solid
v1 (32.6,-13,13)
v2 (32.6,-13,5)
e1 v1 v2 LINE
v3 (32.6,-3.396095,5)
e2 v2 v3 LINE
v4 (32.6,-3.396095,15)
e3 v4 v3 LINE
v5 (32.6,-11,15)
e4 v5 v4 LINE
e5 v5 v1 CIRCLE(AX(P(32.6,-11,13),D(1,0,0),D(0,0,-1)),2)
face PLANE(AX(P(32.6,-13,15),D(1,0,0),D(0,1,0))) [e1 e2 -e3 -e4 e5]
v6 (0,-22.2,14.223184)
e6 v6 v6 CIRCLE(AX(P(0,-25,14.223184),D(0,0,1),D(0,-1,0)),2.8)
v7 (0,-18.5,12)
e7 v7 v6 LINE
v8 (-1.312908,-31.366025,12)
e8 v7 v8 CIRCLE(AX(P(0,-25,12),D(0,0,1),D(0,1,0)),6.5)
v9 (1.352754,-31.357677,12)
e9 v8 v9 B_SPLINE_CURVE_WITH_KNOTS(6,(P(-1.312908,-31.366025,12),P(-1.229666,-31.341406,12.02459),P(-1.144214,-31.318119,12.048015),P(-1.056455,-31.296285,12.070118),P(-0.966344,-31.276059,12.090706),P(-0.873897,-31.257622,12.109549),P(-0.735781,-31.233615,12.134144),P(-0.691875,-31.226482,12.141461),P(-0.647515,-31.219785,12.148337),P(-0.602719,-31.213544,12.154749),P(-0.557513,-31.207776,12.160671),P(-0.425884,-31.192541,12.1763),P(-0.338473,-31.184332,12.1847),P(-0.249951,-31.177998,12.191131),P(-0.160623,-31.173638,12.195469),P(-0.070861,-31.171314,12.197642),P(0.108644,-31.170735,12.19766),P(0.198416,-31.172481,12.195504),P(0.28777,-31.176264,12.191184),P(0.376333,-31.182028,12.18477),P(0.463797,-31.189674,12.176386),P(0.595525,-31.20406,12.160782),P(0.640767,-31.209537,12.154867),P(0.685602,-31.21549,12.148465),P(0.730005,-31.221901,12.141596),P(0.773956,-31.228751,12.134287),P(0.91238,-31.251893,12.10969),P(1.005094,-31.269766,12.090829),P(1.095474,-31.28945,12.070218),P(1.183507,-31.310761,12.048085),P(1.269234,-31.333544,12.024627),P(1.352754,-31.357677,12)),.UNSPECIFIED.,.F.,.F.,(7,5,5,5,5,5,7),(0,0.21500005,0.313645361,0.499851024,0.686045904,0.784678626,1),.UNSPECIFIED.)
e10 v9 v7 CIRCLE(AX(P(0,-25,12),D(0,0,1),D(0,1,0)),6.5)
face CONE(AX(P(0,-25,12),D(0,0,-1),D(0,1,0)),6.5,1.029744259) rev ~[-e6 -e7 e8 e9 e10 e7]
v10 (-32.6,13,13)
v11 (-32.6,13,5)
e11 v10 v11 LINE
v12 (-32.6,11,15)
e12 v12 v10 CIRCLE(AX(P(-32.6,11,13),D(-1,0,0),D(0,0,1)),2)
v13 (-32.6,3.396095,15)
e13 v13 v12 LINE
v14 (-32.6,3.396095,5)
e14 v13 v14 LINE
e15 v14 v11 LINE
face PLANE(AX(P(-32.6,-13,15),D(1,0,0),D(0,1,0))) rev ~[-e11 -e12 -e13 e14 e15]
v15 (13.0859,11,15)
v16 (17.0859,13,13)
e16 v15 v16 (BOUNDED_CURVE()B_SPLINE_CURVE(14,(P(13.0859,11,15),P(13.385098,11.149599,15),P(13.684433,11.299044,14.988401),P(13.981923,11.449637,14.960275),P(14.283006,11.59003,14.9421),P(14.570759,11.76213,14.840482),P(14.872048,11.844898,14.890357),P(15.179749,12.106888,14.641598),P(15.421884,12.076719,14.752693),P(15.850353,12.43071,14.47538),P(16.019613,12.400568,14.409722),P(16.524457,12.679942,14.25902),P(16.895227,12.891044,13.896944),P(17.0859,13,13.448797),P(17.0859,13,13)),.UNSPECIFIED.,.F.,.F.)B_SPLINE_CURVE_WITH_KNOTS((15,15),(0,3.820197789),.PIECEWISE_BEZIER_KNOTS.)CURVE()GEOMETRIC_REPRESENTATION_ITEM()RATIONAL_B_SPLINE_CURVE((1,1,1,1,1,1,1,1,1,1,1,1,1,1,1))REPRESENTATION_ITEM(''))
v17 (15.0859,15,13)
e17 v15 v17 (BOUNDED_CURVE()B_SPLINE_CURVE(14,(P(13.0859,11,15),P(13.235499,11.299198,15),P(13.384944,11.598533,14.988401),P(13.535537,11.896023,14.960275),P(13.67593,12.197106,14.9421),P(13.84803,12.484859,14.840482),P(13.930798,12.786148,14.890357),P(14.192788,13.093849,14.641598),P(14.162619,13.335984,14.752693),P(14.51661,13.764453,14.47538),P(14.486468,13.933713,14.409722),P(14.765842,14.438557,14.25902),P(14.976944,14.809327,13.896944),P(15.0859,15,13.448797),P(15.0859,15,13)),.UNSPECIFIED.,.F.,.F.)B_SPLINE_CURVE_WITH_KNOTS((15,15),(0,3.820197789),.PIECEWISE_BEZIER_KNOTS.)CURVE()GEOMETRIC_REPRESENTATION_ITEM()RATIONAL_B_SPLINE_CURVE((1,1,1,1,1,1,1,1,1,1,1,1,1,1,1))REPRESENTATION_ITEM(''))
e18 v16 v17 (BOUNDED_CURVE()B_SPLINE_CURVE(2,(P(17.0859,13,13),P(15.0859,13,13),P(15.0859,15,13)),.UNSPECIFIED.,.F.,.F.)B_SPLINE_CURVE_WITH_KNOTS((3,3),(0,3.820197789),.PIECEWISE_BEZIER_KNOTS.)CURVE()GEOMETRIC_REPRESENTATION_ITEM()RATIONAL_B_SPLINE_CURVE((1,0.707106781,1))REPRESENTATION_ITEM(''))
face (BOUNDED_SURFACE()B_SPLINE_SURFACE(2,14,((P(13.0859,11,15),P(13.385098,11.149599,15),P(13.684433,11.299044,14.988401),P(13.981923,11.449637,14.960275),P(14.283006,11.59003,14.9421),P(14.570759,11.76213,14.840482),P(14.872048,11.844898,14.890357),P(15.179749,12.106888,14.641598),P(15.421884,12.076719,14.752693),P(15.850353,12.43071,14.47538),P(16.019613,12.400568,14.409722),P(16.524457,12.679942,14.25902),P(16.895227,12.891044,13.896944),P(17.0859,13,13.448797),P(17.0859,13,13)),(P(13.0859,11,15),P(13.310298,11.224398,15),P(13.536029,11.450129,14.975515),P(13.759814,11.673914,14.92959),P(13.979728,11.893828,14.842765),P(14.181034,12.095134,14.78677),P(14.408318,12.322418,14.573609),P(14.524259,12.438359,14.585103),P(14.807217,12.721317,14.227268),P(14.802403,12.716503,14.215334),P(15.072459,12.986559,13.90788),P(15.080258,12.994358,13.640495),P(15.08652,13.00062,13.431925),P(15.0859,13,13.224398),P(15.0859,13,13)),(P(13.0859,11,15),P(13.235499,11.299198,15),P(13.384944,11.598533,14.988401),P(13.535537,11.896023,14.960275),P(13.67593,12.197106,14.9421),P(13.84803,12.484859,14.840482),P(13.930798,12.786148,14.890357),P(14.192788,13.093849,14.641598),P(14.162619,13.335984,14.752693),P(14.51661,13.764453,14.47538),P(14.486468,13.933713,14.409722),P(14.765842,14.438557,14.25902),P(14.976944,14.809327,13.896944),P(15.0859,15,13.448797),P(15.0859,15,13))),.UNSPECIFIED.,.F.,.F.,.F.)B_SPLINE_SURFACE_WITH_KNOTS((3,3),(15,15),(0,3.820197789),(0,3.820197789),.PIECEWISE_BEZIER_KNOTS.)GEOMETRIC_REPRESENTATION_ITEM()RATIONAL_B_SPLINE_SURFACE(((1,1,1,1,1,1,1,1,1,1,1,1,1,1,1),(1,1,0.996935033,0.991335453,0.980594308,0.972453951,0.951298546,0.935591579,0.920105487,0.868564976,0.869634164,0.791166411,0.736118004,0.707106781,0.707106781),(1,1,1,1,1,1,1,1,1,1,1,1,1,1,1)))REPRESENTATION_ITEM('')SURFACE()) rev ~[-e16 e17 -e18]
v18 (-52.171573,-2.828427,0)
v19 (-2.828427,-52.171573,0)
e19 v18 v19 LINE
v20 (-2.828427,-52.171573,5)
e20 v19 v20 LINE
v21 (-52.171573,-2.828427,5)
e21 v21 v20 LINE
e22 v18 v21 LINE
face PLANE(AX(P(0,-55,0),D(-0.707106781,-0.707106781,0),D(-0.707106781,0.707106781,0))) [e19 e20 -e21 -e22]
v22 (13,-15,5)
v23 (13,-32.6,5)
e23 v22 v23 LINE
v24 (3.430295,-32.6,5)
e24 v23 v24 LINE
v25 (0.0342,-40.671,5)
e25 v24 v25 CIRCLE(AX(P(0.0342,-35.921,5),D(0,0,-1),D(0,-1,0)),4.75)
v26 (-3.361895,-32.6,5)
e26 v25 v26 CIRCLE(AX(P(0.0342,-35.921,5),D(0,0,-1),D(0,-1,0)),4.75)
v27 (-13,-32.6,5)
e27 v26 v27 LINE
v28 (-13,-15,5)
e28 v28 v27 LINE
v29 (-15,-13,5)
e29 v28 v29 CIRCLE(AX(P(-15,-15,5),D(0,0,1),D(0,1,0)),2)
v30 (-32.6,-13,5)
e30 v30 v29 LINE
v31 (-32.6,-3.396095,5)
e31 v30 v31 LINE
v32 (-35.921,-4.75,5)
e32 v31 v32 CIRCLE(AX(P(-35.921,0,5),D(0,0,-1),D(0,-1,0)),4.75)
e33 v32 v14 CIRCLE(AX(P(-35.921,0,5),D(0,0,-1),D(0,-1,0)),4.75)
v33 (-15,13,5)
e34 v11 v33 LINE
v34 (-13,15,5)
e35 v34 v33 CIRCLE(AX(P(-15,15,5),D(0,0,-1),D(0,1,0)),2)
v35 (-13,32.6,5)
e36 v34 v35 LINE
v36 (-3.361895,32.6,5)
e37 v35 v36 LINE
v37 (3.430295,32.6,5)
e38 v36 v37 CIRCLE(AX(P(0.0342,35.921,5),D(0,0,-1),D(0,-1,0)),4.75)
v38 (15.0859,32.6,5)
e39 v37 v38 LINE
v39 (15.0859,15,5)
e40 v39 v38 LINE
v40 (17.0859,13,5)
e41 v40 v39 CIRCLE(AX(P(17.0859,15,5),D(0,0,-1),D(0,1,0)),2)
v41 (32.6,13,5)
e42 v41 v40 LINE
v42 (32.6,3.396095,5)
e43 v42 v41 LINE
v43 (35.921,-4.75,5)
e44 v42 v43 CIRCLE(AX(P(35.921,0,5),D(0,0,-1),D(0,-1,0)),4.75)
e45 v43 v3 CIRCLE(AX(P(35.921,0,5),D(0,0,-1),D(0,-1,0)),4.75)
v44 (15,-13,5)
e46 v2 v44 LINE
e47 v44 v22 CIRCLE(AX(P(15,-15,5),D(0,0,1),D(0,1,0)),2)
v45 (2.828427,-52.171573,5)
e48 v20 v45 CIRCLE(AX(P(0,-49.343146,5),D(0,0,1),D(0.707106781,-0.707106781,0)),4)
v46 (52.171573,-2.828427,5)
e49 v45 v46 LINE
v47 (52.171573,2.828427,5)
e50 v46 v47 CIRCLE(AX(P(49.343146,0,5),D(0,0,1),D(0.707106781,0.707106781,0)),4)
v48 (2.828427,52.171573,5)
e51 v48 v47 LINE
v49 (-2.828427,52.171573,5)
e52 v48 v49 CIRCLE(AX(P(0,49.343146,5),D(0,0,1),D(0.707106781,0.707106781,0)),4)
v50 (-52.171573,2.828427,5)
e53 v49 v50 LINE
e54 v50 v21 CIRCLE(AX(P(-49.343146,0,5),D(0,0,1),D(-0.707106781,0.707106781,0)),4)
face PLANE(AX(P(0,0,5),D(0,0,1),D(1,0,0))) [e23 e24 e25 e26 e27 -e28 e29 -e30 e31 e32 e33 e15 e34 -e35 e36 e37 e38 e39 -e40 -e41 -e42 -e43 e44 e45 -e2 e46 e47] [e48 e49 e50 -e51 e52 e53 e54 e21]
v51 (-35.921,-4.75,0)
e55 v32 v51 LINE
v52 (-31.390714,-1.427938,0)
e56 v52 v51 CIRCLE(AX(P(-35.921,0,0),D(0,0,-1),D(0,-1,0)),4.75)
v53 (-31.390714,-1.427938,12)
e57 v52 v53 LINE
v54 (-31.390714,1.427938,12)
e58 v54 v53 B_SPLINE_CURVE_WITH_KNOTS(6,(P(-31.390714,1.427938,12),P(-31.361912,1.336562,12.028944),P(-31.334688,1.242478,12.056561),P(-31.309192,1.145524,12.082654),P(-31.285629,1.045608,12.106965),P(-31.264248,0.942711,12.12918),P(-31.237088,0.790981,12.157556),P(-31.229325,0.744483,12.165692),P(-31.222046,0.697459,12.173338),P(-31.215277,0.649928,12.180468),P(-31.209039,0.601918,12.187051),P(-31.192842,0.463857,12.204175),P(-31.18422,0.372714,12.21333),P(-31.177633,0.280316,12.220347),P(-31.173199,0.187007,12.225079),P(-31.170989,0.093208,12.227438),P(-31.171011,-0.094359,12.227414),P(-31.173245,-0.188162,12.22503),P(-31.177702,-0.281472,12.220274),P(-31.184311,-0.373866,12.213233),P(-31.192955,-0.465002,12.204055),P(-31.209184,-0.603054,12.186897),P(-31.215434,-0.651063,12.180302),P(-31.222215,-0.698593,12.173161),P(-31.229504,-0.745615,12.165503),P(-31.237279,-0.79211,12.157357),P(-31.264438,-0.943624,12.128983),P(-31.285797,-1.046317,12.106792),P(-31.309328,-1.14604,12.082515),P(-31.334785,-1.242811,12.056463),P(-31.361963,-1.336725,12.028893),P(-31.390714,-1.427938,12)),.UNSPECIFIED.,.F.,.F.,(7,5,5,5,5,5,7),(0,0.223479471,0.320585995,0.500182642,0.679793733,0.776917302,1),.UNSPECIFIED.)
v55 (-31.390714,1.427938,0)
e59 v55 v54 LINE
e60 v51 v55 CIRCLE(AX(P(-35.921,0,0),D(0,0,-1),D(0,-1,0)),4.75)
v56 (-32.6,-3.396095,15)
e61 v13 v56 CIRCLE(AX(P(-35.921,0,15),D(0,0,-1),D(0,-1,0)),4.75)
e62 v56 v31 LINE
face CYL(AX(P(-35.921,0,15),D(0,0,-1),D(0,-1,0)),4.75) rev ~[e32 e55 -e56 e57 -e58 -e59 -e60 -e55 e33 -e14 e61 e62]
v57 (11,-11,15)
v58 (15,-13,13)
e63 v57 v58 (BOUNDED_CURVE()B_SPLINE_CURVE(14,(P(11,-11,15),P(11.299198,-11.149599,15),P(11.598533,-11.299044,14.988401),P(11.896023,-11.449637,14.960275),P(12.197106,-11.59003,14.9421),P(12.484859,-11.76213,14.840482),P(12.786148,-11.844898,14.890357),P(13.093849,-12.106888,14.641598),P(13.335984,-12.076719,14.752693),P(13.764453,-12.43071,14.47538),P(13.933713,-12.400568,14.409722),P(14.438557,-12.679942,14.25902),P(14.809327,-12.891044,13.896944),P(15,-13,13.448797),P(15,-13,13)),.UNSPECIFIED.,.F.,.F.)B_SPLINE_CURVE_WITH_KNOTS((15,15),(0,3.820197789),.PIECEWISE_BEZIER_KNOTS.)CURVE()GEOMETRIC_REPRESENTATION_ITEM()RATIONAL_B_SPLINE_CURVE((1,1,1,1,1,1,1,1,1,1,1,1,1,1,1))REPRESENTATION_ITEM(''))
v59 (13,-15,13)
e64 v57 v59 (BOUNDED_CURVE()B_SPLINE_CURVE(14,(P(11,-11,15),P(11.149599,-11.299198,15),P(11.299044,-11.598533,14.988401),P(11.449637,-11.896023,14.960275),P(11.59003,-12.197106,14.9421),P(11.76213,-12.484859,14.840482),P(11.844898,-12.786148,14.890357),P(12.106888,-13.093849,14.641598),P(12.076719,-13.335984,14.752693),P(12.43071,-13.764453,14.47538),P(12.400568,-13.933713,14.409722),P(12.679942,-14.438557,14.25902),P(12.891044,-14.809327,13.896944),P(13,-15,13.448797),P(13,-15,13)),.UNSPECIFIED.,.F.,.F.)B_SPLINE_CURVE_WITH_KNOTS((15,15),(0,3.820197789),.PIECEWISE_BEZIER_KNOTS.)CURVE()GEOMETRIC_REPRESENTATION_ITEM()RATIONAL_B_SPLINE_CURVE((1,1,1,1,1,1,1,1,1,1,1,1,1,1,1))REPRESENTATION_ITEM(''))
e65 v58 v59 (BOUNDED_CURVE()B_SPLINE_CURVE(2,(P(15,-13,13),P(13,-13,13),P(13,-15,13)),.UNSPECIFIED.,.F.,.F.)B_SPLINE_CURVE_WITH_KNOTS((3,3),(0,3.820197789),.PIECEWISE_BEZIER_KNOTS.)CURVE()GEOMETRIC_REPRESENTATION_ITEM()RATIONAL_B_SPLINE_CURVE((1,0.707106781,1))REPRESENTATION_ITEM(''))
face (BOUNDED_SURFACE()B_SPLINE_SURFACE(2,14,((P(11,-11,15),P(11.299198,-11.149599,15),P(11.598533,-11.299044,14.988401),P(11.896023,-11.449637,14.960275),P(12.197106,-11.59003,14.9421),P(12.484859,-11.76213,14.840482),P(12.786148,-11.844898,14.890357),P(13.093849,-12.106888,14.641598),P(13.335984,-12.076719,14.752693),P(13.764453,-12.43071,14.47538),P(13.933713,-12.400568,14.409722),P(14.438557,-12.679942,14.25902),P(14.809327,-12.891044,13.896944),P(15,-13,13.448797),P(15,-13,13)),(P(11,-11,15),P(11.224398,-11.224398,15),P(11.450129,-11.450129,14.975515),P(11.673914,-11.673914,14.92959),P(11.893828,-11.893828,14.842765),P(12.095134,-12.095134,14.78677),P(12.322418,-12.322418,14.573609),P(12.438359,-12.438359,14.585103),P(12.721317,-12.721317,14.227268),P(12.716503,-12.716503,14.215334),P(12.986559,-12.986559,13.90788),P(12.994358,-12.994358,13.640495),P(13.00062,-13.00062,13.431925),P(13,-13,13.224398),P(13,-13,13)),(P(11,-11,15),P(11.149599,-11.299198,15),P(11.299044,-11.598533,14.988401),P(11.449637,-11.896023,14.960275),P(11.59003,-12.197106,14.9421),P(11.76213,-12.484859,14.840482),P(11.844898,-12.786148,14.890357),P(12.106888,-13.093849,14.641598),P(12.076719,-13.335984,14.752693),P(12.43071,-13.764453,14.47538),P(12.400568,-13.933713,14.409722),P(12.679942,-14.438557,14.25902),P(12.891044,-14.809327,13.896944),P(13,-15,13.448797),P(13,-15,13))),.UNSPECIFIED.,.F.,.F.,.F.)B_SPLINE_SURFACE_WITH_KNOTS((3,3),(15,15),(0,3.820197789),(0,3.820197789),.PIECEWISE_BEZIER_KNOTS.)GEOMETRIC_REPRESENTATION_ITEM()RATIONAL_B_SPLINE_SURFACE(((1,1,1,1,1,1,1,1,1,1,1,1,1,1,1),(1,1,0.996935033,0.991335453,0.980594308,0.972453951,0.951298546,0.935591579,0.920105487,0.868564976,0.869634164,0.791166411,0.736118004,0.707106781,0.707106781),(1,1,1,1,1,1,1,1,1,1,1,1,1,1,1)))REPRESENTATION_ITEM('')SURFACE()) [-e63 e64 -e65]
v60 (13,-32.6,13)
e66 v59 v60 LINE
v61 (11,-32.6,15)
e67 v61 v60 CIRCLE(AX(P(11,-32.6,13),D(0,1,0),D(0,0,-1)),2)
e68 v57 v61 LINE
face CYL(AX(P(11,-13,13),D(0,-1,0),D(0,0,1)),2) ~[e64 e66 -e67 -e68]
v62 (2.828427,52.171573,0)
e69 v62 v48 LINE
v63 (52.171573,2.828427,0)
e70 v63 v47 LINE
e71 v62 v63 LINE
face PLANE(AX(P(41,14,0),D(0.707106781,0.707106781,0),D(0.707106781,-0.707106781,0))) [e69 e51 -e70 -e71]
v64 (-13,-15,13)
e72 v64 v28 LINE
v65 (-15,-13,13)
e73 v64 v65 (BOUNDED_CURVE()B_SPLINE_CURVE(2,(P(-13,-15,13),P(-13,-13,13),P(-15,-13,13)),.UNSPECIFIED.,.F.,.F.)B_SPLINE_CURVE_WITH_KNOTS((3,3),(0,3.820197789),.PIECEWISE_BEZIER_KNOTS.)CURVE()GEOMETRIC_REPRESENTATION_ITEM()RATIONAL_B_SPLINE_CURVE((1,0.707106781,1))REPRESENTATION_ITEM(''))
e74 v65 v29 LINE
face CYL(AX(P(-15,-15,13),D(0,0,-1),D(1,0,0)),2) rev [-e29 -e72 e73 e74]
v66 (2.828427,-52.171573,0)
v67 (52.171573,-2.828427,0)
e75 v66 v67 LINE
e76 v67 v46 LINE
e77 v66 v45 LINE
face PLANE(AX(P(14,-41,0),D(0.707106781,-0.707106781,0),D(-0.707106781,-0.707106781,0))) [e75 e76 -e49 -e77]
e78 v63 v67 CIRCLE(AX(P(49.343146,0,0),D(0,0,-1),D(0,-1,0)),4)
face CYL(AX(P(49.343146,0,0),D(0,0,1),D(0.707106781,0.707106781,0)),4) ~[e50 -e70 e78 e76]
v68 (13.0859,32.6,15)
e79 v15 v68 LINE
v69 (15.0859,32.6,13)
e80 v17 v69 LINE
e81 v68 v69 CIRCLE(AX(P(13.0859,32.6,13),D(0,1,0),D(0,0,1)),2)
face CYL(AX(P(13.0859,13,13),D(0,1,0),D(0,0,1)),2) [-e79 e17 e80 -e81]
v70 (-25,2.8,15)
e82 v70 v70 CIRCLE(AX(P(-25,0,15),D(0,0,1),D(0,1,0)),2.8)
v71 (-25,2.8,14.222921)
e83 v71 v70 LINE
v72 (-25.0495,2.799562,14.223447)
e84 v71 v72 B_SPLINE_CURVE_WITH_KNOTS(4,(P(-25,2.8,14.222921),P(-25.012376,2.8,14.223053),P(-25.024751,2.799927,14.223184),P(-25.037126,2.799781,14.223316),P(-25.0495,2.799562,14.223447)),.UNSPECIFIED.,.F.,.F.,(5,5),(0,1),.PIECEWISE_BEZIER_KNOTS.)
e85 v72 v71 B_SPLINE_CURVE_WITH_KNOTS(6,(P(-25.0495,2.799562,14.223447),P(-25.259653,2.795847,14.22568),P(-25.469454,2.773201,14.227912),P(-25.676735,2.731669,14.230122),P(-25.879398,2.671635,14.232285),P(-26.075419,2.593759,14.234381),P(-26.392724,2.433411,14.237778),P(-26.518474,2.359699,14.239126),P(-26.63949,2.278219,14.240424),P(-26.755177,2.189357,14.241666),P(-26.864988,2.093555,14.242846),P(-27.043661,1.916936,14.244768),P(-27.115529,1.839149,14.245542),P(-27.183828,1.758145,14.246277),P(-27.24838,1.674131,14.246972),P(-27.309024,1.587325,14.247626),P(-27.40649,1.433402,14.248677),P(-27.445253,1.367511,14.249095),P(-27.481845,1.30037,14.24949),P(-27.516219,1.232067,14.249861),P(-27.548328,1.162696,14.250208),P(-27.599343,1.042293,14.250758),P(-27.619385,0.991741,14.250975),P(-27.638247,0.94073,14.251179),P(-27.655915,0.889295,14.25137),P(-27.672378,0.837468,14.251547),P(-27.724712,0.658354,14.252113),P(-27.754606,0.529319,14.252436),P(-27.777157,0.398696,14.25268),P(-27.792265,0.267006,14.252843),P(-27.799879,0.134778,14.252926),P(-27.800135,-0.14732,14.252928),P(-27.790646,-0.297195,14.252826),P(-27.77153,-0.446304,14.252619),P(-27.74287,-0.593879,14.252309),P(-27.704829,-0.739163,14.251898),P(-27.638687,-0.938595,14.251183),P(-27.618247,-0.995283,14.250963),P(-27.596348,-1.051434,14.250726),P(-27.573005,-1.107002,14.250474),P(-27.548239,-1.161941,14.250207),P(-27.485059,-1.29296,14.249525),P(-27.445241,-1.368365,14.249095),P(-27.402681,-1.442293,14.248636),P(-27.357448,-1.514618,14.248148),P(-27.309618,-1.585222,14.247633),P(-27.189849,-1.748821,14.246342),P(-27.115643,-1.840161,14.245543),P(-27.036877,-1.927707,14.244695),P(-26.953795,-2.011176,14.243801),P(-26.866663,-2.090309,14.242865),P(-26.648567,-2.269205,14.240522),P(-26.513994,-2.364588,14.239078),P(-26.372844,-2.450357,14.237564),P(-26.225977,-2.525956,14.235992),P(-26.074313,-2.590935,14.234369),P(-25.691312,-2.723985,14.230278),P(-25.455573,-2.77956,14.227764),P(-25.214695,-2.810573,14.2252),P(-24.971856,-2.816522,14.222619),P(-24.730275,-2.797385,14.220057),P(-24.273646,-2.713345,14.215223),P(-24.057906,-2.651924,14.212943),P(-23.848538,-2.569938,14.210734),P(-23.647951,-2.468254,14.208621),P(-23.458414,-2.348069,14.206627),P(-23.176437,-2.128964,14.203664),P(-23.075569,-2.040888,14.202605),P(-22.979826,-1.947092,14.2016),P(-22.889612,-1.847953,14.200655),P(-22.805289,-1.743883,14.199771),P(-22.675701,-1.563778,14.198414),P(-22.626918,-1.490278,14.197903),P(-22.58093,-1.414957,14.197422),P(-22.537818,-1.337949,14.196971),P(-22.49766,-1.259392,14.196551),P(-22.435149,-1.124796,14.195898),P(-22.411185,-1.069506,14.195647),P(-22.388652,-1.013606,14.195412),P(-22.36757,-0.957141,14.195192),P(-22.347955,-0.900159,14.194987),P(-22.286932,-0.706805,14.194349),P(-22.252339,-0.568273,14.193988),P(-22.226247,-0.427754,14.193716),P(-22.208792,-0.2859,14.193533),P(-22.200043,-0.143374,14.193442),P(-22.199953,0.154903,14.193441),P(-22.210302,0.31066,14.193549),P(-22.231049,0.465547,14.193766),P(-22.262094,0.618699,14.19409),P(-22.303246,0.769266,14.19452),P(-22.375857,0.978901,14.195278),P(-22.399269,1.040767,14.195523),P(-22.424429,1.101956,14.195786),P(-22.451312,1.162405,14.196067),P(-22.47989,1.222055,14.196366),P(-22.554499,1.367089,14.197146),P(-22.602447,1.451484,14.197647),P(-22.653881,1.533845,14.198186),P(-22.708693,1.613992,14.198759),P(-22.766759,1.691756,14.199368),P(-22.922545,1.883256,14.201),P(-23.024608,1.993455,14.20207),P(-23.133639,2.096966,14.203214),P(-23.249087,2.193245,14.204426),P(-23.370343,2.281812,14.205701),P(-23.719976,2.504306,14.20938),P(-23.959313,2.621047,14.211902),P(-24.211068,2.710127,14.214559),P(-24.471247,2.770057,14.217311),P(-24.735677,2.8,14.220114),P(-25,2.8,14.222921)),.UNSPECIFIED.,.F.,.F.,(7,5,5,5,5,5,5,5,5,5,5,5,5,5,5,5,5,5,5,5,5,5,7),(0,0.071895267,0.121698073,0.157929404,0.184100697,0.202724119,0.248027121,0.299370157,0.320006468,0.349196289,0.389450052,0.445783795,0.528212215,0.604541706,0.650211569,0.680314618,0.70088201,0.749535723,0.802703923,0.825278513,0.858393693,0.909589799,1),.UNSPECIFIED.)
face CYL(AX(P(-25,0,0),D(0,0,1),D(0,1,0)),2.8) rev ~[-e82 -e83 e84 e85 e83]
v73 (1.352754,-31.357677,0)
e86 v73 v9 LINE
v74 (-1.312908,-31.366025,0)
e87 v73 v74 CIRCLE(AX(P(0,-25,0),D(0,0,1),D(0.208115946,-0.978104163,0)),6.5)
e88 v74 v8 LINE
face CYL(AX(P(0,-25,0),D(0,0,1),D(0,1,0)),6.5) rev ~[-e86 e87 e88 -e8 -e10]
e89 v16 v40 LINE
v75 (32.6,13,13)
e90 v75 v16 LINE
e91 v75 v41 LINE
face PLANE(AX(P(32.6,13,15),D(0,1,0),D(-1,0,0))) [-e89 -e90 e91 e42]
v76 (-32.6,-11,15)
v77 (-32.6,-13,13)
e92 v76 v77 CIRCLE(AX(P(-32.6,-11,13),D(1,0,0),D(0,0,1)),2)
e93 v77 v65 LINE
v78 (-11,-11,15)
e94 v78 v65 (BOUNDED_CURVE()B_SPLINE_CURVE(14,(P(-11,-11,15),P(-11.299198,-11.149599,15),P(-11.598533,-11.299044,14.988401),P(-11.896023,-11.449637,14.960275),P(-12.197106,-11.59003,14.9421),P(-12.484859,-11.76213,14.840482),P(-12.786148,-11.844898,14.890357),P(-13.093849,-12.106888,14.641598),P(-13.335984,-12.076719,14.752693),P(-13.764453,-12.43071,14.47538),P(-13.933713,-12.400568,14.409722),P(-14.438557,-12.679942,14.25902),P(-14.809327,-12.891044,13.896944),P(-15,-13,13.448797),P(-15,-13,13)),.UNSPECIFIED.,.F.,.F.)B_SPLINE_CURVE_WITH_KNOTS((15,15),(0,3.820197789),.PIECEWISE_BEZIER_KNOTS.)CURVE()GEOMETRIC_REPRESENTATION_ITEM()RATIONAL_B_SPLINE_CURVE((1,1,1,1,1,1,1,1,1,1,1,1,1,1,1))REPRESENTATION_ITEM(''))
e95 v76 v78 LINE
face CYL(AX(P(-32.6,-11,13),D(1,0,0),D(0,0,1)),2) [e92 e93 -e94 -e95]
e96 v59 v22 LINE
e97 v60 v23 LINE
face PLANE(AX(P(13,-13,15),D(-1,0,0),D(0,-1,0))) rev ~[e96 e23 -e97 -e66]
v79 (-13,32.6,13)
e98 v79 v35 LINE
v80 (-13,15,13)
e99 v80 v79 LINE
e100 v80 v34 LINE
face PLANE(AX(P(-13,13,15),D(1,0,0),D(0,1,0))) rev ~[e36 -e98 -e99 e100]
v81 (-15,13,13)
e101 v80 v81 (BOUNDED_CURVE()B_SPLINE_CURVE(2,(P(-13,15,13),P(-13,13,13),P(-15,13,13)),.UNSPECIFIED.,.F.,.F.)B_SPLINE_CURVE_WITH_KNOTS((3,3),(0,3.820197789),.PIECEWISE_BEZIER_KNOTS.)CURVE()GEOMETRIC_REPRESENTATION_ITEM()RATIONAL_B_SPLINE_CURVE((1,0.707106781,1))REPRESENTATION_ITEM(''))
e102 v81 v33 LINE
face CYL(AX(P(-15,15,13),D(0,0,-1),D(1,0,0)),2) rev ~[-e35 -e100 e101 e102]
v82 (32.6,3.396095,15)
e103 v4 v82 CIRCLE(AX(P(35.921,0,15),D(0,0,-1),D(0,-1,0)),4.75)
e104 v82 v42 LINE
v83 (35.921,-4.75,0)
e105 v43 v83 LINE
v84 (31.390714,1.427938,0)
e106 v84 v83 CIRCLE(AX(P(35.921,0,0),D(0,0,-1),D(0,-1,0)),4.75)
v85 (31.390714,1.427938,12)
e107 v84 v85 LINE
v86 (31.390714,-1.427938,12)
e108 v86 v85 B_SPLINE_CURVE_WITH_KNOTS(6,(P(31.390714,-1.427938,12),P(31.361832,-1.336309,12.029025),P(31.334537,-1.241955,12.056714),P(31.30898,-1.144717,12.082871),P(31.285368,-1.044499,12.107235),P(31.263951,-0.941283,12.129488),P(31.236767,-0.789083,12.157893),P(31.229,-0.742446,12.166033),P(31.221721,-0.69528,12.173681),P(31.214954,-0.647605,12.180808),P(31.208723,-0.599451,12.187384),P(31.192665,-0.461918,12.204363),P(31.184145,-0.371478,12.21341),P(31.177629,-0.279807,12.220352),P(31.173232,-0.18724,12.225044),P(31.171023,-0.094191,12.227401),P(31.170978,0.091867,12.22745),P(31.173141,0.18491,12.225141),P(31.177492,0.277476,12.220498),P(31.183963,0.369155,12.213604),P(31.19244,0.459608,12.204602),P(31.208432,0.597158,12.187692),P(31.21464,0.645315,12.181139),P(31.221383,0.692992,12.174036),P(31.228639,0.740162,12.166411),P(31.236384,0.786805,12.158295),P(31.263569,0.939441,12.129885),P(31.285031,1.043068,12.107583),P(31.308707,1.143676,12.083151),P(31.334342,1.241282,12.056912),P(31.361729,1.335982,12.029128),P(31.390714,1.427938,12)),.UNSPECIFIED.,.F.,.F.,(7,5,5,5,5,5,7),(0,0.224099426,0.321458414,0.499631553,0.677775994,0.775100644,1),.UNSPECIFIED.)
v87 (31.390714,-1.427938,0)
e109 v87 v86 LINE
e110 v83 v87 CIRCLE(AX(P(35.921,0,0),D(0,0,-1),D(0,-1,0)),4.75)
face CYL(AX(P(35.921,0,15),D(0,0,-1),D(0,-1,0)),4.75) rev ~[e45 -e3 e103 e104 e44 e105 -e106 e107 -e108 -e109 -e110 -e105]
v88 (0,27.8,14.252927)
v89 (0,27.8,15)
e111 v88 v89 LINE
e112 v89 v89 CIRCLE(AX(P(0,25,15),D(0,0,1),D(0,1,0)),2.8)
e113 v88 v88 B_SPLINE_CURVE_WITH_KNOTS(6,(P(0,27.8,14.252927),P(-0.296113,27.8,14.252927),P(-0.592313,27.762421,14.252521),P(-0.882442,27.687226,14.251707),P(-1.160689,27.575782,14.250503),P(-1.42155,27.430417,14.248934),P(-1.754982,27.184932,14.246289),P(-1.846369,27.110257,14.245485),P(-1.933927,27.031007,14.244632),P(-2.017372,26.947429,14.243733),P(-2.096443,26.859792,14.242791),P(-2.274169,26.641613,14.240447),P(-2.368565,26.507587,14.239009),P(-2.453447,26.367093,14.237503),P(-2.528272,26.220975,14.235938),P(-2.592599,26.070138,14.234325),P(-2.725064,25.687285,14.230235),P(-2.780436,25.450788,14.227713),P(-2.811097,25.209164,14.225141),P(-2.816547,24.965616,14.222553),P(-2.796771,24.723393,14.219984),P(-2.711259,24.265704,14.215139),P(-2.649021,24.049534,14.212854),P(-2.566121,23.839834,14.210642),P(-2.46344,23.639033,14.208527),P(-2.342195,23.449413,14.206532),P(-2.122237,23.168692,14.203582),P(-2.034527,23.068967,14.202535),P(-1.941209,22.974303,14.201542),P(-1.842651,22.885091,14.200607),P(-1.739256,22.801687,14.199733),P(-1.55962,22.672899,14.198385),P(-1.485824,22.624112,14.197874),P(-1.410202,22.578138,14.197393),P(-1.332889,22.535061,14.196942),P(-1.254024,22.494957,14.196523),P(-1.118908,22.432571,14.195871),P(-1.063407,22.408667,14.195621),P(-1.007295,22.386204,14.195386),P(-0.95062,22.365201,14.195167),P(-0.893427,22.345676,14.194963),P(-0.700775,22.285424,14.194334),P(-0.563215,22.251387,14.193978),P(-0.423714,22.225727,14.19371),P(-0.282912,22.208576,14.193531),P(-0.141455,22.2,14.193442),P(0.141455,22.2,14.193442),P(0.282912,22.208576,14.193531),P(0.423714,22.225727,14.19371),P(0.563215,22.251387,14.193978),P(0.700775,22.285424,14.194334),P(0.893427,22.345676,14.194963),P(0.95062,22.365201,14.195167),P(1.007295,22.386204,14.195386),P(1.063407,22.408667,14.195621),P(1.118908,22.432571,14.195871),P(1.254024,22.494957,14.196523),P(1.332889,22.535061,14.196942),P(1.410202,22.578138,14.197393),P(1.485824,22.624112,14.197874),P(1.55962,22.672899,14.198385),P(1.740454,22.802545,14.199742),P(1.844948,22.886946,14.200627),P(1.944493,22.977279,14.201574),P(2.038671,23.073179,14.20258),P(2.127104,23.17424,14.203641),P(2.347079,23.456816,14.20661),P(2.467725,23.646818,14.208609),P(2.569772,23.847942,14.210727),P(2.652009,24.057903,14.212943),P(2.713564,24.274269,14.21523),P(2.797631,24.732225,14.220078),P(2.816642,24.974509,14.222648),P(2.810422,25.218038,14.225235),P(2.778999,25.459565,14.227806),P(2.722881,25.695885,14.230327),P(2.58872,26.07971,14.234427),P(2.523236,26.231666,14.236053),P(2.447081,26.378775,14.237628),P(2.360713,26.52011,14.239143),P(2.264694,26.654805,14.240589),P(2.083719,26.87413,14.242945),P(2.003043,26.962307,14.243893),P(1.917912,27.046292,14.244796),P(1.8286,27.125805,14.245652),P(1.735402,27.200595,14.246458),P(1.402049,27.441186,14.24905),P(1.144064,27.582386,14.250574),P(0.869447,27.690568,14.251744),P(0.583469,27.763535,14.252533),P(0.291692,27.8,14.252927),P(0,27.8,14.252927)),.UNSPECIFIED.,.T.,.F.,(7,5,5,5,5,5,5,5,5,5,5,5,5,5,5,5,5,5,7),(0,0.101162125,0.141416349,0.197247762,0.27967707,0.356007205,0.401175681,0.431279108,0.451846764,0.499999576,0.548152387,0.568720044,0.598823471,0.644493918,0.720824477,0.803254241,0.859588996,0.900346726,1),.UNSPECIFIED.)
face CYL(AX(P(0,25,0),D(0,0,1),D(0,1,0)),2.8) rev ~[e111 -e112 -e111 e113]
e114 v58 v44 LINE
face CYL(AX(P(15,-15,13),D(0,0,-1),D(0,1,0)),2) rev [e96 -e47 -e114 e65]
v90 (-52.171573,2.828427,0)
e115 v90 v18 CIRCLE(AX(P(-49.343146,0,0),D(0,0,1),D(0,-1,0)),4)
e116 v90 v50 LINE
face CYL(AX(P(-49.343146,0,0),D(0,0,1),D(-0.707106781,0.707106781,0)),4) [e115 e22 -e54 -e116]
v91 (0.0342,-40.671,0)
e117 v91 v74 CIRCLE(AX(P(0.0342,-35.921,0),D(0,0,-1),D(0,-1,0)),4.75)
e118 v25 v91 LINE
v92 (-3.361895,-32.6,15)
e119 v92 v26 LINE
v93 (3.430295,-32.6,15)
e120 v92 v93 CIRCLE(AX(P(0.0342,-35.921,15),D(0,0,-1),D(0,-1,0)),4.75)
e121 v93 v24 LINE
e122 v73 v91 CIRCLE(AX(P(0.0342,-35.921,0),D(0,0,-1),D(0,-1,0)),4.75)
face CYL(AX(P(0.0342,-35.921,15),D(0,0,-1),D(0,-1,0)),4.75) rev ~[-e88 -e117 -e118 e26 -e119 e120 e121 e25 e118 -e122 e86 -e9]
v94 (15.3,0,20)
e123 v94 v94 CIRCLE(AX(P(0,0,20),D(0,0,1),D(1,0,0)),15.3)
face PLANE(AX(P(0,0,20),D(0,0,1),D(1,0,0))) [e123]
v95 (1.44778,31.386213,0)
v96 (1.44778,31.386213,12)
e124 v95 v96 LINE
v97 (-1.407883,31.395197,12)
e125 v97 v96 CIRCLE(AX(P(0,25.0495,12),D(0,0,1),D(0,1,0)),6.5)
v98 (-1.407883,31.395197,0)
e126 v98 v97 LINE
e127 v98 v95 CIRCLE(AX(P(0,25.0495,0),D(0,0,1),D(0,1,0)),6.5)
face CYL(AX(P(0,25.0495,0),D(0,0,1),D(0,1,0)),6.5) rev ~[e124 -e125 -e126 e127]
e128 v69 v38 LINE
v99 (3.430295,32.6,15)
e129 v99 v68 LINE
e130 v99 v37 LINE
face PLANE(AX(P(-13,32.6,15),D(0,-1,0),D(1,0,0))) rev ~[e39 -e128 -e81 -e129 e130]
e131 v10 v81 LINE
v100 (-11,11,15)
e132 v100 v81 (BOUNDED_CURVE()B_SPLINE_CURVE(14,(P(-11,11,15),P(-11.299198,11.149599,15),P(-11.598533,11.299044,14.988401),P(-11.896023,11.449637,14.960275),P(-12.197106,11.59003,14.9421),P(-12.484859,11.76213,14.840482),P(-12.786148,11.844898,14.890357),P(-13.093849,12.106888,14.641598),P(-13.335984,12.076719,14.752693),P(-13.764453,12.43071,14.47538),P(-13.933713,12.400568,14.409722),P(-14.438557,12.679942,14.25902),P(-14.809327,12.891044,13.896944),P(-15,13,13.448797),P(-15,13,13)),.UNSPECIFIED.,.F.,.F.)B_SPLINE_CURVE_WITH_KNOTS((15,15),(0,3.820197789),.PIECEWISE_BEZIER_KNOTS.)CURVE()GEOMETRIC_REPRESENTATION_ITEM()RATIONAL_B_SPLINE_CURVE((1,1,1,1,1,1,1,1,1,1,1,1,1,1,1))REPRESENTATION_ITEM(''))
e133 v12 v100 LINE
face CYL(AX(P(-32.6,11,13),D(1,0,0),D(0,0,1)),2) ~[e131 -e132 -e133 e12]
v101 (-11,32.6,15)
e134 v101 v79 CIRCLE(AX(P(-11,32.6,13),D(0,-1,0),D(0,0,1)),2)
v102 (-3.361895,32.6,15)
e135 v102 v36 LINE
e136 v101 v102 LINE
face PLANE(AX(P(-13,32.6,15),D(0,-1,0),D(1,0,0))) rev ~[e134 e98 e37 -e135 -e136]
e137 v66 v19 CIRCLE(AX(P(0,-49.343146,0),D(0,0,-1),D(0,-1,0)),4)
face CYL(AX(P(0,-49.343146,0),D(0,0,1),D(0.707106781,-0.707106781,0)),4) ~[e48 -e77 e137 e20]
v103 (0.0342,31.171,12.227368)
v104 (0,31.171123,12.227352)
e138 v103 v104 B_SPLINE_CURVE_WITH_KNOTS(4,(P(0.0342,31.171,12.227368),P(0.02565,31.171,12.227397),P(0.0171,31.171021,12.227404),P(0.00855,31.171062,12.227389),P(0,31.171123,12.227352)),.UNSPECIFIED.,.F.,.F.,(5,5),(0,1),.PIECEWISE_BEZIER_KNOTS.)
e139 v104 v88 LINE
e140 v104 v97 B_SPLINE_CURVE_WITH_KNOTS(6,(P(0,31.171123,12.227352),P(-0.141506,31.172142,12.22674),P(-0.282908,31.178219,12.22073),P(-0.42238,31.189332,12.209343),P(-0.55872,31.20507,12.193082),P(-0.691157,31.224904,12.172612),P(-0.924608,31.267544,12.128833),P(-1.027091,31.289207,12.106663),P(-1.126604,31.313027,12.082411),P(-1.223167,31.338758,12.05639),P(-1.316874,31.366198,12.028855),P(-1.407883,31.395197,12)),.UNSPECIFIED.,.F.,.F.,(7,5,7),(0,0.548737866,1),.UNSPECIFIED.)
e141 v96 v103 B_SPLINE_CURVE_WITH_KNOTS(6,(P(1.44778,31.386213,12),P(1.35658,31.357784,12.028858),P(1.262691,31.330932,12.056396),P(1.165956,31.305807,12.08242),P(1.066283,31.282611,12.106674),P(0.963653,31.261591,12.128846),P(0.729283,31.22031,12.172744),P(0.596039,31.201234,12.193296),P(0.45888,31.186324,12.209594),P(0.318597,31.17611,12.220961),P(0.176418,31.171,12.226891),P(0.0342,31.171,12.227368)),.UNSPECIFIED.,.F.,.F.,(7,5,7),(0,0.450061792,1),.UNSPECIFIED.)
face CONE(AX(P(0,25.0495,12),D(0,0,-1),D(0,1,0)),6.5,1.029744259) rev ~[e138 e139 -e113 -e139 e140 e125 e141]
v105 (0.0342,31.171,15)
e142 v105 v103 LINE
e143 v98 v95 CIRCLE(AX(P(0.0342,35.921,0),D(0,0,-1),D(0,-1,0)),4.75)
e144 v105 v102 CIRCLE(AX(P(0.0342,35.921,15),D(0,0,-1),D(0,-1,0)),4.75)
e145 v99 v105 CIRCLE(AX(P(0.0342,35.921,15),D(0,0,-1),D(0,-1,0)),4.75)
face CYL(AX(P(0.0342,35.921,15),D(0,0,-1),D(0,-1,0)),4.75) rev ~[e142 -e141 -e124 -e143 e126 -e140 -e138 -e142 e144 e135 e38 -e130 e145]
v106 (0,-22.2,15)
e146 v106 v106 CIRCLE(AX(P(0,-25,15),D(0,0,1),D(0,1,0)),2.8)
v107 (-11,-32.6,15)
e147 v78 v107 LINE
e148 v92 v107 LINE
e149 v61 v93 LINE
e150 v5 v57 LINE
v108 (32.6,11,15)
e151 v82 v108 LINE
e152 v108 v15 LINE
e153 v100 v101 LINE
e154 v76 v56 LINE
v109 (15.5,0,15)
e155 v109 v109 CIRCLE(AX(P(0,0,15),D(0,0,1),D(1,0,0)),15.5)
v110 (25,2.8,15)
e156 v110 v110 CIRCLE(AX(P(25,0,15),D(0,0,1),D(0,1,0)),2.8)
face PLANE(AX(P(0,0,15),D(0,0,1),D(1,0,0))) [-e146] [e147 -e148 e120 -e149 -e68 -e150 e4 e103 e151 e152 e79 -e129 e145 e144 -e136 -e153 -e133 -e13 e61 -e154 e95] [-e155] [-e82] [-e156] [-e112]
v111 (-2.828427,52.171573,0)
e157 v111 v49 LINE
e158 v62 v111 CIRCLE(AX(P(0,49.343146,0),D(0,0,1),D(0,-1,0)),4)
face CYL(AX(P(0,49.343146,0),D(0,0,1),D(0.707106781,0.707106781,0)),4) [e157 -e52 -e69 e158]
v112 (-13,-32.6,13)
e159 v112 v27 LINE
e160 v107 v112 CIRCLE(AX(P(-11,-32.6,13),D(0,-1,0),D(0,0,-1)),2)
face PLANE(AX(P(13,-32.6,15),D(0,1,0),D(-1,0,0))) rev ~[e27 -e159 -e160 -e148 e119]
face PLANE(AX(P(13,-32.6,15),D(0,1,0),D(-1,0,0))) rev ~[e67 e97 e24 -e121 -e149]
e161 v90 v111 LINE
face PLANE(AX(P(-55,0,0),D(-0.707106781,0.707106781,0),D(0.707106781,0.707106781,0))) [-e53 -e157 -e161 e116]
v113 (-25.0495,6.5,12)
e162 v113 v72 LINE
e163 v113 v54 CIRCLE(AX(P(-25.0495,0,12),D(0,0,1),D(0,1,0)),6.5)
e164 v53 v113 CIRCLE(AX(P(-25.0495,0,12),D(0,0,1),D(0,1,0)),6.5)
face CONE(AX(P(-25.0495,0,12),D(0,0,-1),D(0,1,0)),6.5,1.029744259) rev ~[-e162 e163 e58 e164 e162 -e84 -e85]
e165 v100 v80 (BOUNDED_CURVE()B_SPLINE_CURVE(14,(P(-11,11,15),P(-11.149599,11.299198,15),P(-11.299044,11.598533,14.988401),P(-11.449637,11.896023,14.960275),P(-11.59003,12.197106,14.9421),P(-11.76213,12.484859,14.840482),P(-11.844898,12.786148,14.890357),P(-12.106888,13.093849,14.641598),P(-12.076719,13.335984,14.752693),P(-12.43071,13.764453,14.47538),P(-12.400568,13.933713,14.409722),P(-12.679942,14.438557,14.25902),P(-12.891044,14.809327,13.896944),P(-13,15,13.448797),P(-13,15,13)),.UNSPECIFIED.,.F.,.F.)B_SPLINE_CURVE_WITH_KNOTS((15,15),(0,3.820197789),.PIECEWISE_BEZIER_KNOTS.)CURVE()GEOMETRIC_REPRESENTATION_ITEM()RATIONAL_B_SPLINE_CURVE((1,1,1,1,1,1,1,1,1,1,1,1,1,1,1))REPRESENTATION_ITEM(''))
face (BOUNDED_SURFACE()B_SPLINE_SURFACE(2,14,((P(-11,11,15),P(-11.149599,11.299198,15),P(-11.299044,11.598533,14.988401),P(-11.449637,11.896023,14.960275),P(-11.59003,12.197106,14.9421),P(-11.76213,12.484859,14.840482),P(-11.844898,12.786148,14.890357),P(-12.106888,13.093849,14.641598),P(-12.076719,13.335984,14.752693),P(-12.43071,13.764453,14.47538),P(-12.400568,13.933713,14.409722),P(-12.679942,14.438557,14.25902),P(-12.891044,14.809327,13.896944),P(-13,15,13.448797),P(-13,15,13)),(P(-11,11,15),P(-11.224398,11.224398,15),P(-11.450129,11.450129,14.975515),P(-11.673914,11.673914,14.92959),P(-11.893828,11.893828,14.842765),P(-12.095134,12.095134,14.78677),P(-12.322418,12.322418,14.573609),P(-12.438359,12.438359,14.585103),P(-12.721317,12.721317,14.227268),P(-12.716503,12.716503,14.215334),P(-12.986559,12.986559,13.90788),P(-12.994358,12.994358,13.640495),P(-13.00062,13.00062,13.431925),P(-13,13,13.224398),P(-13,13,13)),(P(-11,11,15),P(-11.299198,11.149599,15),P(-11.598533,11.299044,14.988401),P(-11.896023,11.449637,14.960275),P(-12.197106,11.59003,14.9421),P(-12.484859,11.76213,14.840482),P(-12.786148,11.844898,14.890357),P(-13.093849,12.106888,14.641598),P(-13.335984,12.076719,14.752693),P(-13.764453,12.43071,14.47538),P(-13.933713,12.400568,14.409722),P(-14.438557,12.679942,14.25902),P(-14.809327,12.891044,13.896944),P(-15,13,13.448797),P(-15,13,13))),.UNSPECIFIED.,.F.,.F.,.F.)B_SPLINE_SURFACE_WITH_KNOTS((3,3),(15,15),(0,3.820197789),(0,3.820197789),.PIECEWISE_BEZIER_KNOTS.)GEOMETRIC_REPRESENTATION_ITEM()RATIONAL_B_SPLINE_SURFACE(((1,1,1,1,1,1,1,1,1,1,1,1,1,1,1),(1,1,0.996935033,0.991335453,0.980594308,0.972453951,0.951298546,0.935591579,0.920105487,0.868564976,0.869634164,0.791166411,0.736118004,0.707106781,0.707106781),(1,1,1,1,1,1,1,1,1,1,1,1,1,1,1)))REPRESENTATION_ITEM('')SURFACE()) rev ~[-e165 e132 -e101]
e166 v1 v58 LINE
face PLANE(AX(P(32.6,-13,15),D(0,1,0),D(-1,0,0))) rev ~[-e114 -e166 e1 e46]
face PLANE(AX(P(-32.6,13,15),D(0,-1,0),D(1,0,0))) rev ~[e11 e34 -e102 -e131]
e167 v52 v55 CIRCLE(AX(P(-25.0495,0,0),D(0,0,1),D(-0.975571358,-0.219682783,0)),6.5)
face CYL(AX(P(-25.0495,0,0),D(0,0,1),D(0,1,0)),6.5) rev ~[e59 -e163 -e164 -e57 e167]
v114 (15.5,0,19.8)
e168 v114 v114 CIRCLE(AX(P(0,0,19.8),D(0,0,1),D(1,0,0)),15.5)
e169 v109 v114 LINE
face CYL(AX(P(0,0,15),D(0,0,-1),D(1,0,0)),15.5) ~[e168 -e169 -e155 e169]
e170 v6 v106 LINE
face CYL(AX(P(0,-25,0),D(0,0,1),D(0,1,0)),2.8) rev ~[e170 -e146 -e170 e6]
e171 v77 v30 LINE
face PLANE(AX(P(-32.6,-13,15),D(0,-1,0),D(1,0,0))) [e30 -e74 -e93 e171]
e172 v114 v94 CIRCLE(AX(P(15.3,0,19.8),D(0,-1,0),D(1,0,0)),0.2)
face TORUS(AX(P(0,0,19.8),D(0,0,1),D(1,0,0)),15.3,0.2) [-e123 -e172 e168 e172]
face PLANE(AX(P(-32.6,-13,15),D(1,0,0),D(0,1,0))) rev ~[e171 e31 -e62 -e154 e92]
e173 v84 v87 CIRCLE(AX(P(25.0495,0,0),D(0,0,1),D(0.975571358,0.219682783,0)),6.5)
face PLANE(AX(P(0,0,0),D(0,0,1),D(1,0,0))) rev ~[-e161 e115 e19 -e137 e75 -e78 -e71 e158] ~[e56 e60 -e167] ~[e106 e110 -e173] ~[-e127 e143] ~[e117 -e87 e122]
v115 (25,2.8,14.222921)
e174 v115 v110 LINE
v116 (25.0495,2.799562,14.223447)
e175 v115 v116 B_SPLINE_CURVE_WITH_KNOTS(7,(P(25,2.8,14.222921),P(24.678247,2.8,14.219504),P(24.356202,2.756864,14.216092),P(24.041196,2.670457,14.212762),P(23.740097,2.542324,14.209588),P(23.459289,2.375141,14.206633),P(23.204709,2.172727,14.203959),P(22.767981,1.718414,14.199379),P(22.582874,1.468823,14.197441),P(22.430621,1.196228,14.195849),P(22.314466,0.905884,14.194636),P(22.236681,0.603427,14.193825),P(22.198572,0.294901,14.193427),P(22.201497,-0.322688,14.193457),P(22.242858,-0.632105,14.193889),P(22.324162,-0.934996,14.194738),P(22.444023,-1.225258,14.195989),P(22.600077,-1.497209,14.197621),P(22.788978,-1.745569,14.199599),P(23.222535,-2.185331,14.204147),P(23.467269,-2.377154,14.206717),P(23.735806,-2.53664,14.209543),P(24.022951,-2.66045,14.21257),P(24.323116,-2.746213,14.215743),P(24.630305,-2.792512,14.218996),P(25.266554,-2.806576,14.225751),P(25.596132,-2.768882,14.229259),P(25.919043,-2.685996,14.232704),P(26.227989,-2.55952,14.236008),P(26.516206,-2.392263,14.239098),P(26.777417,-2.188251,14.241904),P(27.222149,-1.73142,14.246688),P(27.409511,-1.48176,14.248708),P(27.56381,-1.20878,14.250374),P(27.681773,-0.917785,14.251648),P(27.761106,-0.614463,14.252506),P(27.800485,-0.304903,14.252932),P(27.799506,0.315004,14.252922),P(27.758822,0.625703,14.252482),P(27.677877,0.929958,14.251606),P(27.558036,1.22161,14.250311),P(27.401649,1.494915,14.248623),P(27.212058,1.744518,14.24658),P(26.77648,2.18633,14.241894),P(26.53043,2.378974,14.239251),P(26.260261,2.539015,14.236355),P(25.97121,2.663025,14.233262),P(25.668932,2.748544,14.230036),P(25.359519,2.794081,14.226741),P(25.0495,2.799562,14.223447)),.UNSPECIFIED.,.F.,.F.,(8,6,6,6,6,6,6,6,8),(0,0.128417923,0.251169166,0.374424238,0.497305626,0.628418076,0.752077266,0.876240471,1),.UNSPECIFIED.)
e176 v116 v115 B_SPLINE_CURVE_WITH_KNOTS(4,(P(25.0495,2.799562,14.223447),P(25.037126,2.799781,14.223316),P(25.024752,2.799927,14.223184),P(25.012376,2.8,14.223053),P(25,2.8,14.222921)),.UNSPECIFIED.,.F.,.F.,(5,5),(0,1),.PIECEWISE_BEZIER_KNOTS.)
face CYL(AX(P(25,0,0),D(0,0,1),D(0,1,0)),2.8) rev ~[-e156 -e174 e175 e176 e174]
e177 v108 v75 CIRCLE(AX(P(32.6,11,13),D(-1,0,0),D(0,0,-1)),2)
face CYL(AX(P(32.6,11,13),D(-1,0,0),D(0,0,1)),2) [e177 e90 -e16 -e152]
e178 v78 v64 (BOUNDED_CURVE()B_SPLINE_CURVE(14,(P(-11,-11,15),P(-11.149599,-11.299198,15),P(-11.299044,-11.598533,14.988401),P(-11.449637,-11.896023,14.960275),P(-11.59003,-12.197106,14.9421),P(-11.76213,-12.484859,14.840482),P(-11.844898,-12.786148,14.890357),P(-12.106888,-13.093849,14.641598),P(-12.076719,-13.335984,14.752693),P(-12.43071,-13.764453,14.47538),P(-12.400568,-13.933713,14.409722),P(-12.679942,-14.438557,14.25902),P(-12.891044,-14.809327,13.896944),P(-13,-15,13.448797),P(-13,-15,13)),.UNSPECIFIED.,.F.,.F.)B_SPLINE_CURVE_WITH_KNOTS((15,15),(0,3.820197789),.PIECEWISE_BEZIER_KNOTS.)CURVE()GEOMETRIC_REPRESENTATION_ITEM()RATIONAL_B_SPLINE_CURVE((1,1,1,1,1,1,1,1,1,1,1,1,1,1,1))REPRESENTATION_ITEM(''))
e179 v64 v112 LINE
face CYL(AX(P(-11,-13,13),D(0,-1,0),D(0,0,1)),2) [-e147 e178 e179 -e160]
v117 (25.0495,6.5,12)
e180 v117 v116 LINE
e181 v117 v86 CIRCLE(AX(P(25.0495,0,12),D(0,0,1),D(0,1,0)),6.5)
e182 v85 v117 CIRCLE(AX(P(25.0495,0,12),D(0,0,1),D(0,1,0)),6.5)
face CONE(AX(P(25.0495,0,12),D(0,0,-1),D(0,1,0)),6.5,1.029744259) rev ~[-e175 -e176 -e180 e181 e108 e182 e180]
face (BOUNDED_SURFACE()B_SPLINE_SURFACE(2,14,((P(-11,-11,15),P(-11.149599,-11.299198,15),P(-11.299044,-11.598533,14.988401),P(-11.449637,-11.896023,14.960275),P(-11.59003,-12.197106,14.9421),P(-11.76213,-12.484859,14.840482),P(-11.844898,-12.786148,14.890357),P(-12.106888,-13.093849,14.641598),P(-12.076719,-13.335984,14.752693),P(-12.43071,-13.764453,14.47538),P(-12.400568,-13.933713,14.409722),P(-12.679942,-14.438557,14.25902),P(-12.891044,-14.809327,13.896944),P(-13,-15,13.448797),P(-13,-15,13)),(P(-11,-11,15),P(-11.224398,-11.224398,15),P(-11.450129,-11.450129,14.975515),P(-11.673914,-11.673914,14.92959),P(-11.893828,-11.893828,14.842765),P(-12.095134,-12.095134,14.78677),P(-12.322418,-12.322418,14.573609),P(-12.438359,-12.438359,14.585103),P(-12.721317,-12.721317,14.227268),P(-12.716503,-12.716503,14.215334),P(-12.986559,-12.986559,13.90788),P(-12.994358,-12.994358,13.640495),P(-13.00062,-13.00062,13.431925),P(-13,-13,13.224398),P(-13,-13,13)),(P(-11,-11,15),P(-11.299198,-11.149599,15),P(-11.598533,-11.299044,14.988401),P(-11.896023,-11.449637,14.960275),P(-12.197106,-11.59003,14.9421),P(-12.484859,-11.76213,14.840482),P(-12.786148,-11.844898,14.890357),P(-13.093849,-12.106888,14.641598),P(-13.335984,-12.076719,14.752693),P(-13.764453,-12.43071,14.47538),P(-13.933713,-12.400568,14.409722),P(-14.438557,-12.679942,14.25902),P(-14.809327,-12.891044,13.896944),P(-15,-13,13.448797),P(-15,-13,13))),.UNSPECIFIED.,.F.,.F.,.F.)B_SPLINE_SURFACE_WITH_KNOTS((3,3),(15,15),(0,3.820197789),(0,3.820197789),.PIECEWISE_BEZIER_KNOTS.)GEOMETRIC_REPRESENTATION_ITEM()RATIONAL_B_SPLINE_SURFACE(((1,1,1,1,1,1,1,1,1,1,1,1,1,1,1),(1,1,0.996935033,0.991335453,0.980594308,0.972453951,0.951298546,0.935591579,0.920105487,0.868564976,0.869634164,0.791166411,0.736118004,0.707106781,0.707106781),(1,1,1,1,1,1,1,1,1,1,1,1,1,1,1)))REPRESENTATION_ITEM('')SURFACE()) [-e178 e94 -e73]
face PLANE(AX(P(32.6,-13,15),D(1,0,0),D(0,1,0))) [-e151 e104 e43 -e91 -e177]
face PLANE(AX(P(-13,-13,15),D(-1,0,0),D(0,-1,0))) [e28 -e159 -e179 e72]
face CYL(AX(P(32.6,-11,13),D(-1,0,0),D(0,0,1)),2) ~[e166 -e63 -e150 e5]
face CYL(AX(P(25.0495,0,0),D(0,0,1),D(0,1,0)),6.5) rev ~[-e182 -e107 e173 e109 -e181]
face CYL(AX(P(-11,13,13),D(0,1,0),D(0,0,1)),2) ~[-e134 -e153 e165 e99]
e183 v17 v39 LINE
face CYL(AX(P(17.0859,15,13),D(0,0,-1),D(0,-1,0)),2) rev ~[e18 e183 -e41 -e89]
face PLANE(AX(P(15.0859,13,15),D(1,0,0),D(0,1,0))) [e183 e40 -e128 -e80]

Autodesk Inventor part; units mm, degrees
ref_plane "YZ Plane" through (0, 0, 0) normal (1, 0, 0) x (0, 1, 0)
ref_plane "XZ Plane" through (0, 0, 0) normal (0, 1, 0) x (-1, 0, 0)
ref_plane "XY Plane" through (0, 0, 0) normal (0, 0, 1) x (1, 0, 0)
sketch "Sketch1" plane through (0, 0, 0) normal (0, 0, 1) x (1, 0, 0)
  line L0 (41, -41) -> (-41, -41)
  line L1 (-41, -41) -> (-41, 41)
  line L2 (-41, 41) -> (41, 41)
  line L3 (41, 41) -> (41, -41)
  line L4 (41, -41) -> (-41, 41) construction
  line L5 (-41, -41) -> (41, 41) construction
  line L6 (-55, 0) -> (0, 55)
  line L7 (0, 55) -> (55, 0)
  line L8 (55, 0) -> (0, -55)
  line L9 (0, -55) -> (-55, 0)
  line L10 (-55, 0) -> (55, 0)
  line L11 (0, 55) -> (0, -55)
  circle A0 centre (0, 0) radius 63.5
  point P0 (-41, 0)
  dimension "d0" = 82
  dimension "d86" = 110
  dimension "d87" = 0
  dimension "d88" = 110
  dimension "d89" = 0
  dimension "d93" = 127
extrude "Extrusion1" add sketch "Sketch1" along normal blind 15 contours L8 L11 L0 | L0 L11 L10 L3 L8 | L3 L10 L8 | L11 L9 L0 | L0 L9 L1 L10 L11 | L10 L11 L2 L7 L3 | L3 L7 L10 | L10 L1 L6 L2 L11 | L9 L10 L1 | L10 L6 L1 | L11 L7 L2 | L2 L6 L11
sketch "Sketch2" plane through (0, 0, 0) normal (0, 0, -1) x (-1, 0, 0)
  arc A0 (41, 38) -> (38, 41) centre (38, 38) ccw
  line L0 (25.4, -25.4) -> (-25.4, -25.4)
  line L1 (-25.4, -25.4) -> (-25.4, 25.4)
  line L2 (-25.4, 25.4) -> (25.4, 25.4)
  line L3 (25.4, 25.4) -> (25.4, -25.4)
  line L4 (25.4, -25.4) -> (-25.4, 25.4) construction
  line L5 (-25.4, -25.4) -> (25.4, 25.4) construction
  circle A1 centre (-25.4, 25.4) radius 3.3
  circle A2 centre (25.4, 25.4) radius 3.3
  circle A3 centre (25.4, -25.4) radius 3.3
  circle A4 centre (-25.4, -25.4) radius 3.3
  circle A5 centre (35.921, 0) radius 3.35
  circle A6 centre (-35.921, 0) radius 3.35
  circle A7 centre (-0.0342, 35.921) radius 3.35
  circle A8 centre (-0.0342, -35.921) radius 3.35
  point P0 (0, 0)
  point P1 (40.1213, 40.1213)
  dimension "d32" = 50.8
  dimension "d33" = 6.6
  dimension "d60" = 6.7
  dimension "d61" = 35.921
  dimension "d62" = 6.7
  dimension "d63" = 35.921
  dimension "d65" = 6.7
  dimension "d66" = 6.7
  dimension "d67" = 35.921
  dimension "d68" = 35.921
hole "Hole3" at (0.0342, 35.921, 0) at (0.0342, -35.921, 0) at (35.921, 0, 0) at (-35.921, 0, 0) direction (0, 0, 1) diameter 6.6 end through all
sketch "Sketch3" plane through (0, 0, 0) normal (0, 0, -1) x (-1, 0, 0)
  circle A0 centre (0, 0) radius 31.5
  circle A1 centre (0, 0) radius 25
  circle A2 centre (0, 25) radius 2.7
  circle A3 centre (25, 0) radius 2.7
  circle A4 centre (0, -25) radius 2.7
  circle A5 centre (-25, 0) radius 2.7
  dimension "d7" = 63
  dimension "d12" = 5.4
hole "Hole1" at (25, 0, 0) at (0, 25, 0) at (0, -25, 0) at (-25, 0, 0) direction (0, 0, 1) diameter 5.6 end through all
sketch "Sketch5" plane through (0, 0, 15) normal (0, 0, 1) x (1, 0, 0)
  circle A0 centre (0, 0) radius 15.5
  dimension "d44" = 31
extrude "Extrusion3" add sketch "Sketch5" along normal blind 5
fillet "Fillet2" radius 0.2 1 edges at (-15.5, 0, 20)
sketch "Sketch6" plane through (0, 0, 15) normal (0, 0, 1) x (1, 0, 0)
  line L0 (38, 41) -> (-38, 41) projected
  line L1 (43.0859, 13) -> (15.0859, 13)
  line L2 (15.0859, 13) -> (15.0859, 41)
  line L3 (15.0859, 41) -> (43.0859, 41)
  line L4 (43.0859, 41) -> (43.0859, 13)
  line L5 (-38, -41) -> (38, -41) projected
  line L6 (41, -38) -> (41, 38) projected
  line L7 (13, -41) -> (41, -41)
  line L8 (41, -41) -> (41, -13)
  line L9 (41, -13) -> (13, -13)
  line L10 (13, -13) -> (13, -41)
  line L11 (-41, 38) -> (-41, -38) projected
  line L12 (-41, 13) -> (-13, 13)
  line L13 (-13, 13) -> (-13, 41)
  line L14 (-13, 41) -> (-41, 41)
  line L15 (-41, 41) -> (-41, 13)
  line L16 (-41, -13) -> (-13, -13)
  line L17 (-13, -13) -> (-13, -41)
  line L18 (-13, -41) -> (-41, -41)
  line L19 (-41, -41) -> (-41, -13)
  line L20 (-32.6, 13) -> (-41, 13)
  line L21 (-41, 13) -> (-41, -13)
  line L22 (-41, -13) -> (-32.6, -13)
  line L23 (-32.6, -13) -> (-32.6, 13)
  line L24 (-13, -41) -> (13, -41)
  line L25 (13, -41) -> (13, -32.6)
  line L26 (13, -32.6) -> (-13, -32.6)
  line L27 (-13, -32.6) -> (-13, -41)
  line L28 (41, -13) -> (32.6, -13)
  line L29 (32.6, -13) -> (32.6, 13)
  line L30 (32.6, 13) -> (41, 13)
  line L31 (41, 13) -> (41, -13)
  line L32 (15.0859, 41) -> (-13, 41)
  line L33 (-13, 41) -> (-13, 32.6)
  line L34 (-13, 32.6) -> (15.0859, 32.6)
  line L35 (15.0859, 32.6) -> (15.0859, 41)
  point P0 (0, 0)
  point P1 (41, 38)
  point P2 (-41, -13)
  point P3 (15.0859, 32.6)
  point P4 (-32.6, -13)
  point P5 (41, 13)
  dimension "d48" = 28
  dimension "d69" = 8.4
  dimension "d70" = 8.4
  dimension "d71" = 8.4
  dimension "d72" = 8.4
extrude "Extrusion4" cut sketch "Sketch6" against normal blind 10 contours L3 L4 L1 L2 L0 | L2 L34 L13 L0 | L13 L12 L11 L15 L14 L0 | L6 L9 L29 L1 | L6 L8 L7 L5 L10 L9 | L23 L16 L11 L12 | L16 L17 L5 L18 L19 L11 | L10 L5 L17 L26
fillet "Fillet3" radius 2 9 edges at (22.8, -13, 15) (23.8429, 13, 15) (41.5, 13, 15) (15.0859, 22.8, 15) (-13, 22.8, 15) (-13, -22.8, 15) (13, -22.8, 15) (-22.8, -13, 15) (-22.8, 13, 15)
fillet "Fillet4" radius 2 8 edges at (15.0859, 13, 9) (14.5001, 12.4142, 14.4142) (-13, 13, 9) (-12.4142, 12.4142, 14.4142) (13, -13, 9) (12.4142, -12.4142, 14.4142) (-13, -13, 9) (-12.4142, -12.4142, 14.4142)
sketch "Sketch8" plane through (0, 0, 0) normal (0, 0, -1) x (-1, 0, 0)
  circle A0 centre (0, 0) radius 25.0495
  circle A1 centre (0, 25.0495) radius 6.4625
  circle A2 centre (25.0495, 0) radius 6.4505
  circle A3 centre (0, -25) radius 6.5 projected
  circle A4 centre (0, -25) radius 6.5
  circle A5 centre (-25.0495, 0) radius 6.5495
hole "Hole4" at (0, -25, 0) at (-25.0495, 0, 0) at (0, 25.0495, 0) at (25.0495, 0, 0) direction (0, 0, 1) diameter 13 depth 12 tip angle 118
sketch "Sketch9" plane through (0, 0, 15) normal (0, 0, 1) x (1, 0, 0)
  circle A0 centre (0.0342, 35.921) radius 3.3 projected
  arc A1 (-0.0024, 31.2413) -> (0.0342, 31.2412) centre (0.0342, 35.921) ccw
  circle A2 centre (0.0342, 35.921) radius 4.75
  circle A3 centre (35.921, 0) radius 3.3 projected
  circle A4 centre (35.921, 0) radius 4.75
  circle A5 centre (0.0342, -35.921) radius 3.3 projected
  circle A6 centre (0.0342, -35.921) radius 4.75
  circle A7 centre (-35.921, 0) radius 3.3 projected
  circle A8 centre (-35.921, 0) radius 4.75
  point P0 (0, 0)
  dimension "d80" = 9.5
  dimension "d83" = 9.5
  dimension "d84" = 9.5
  dimension "d85" = 9.5
hole "Hole5" at (0.0342, 35.921, 15) at (0.0342, -35.921, 15) at (35.921, 0, 15) at (-35.921, 0, 15) direction (0, 0, -1) diameter 9.5 depth 15
fillet "Fillet5" radius 4 4 edges at (0, 55, 7.5) (55, 0, 7.5) (-55, 0, 7.5) (0, -55, 7.5)
sketch "Sketch10" plane through (0, 0, 15) normal (0, 0, 1) x (1, 0, 0)
  line L0 (-41, -14) -> (-41, 14) projected
  line L1 (-41, 14) -> (-41, -14)
  line L2 (-41, -14) -> (-55, 0)
  line L3 (-52.1716, -2.8284) -> (-2.8284, -52.1716) projected
  line L4 (-55, 0) -> (-41, 14)
  line L5 (2.8284, -52.1716) -> (14, -41) projected
  line L6 (14, -41) -> (-14, -41)
  line L7 (41, -14) -> (52.1716, -2.8284) projected
  line L8 (41, -14) -> (55, 0)
  line L9 (14, 41) -> (42, 13) projected
  line L10 (55, 0) -> (41, 14)
  line L11 (41, -14) -> (41, 14)
  line L12 (-14, 41) -> (14, 41) projected
  line L13 (-14, 41) -> (14, 41)
  line L14 (14, 41) -> (0, 55)
  line L15 (0, 55) -> (-14, 41)
  line L16 (14, -41) -> (-14, -41)
  line L17 (0, -55) -> (-14, -41)
  line L18 (14, -41) -> (0, -55)
  point P0 (0, 0)
  point P1 (43.0859, 14.8971)
  point P2 (43.0859, 14.8971)
  point P3 (42, 13)
extrude "Extrusion5" cut sketch "Sketch10" against normal blind 10
equation "\"d63\" = d61"
equation "\"d67\" = d61"
equation "\"d68\" = d61"
equation "\"d70\" = d69"
equation "\"d71\" = d69"
equation "\"d72\" = d69"
equation "\"d83\" = d80"
equation "\"d84\" = d80"
equation "\"d85\" = d80"
equation "\"d73\" = d85"
properties part number "adapter_final2"
